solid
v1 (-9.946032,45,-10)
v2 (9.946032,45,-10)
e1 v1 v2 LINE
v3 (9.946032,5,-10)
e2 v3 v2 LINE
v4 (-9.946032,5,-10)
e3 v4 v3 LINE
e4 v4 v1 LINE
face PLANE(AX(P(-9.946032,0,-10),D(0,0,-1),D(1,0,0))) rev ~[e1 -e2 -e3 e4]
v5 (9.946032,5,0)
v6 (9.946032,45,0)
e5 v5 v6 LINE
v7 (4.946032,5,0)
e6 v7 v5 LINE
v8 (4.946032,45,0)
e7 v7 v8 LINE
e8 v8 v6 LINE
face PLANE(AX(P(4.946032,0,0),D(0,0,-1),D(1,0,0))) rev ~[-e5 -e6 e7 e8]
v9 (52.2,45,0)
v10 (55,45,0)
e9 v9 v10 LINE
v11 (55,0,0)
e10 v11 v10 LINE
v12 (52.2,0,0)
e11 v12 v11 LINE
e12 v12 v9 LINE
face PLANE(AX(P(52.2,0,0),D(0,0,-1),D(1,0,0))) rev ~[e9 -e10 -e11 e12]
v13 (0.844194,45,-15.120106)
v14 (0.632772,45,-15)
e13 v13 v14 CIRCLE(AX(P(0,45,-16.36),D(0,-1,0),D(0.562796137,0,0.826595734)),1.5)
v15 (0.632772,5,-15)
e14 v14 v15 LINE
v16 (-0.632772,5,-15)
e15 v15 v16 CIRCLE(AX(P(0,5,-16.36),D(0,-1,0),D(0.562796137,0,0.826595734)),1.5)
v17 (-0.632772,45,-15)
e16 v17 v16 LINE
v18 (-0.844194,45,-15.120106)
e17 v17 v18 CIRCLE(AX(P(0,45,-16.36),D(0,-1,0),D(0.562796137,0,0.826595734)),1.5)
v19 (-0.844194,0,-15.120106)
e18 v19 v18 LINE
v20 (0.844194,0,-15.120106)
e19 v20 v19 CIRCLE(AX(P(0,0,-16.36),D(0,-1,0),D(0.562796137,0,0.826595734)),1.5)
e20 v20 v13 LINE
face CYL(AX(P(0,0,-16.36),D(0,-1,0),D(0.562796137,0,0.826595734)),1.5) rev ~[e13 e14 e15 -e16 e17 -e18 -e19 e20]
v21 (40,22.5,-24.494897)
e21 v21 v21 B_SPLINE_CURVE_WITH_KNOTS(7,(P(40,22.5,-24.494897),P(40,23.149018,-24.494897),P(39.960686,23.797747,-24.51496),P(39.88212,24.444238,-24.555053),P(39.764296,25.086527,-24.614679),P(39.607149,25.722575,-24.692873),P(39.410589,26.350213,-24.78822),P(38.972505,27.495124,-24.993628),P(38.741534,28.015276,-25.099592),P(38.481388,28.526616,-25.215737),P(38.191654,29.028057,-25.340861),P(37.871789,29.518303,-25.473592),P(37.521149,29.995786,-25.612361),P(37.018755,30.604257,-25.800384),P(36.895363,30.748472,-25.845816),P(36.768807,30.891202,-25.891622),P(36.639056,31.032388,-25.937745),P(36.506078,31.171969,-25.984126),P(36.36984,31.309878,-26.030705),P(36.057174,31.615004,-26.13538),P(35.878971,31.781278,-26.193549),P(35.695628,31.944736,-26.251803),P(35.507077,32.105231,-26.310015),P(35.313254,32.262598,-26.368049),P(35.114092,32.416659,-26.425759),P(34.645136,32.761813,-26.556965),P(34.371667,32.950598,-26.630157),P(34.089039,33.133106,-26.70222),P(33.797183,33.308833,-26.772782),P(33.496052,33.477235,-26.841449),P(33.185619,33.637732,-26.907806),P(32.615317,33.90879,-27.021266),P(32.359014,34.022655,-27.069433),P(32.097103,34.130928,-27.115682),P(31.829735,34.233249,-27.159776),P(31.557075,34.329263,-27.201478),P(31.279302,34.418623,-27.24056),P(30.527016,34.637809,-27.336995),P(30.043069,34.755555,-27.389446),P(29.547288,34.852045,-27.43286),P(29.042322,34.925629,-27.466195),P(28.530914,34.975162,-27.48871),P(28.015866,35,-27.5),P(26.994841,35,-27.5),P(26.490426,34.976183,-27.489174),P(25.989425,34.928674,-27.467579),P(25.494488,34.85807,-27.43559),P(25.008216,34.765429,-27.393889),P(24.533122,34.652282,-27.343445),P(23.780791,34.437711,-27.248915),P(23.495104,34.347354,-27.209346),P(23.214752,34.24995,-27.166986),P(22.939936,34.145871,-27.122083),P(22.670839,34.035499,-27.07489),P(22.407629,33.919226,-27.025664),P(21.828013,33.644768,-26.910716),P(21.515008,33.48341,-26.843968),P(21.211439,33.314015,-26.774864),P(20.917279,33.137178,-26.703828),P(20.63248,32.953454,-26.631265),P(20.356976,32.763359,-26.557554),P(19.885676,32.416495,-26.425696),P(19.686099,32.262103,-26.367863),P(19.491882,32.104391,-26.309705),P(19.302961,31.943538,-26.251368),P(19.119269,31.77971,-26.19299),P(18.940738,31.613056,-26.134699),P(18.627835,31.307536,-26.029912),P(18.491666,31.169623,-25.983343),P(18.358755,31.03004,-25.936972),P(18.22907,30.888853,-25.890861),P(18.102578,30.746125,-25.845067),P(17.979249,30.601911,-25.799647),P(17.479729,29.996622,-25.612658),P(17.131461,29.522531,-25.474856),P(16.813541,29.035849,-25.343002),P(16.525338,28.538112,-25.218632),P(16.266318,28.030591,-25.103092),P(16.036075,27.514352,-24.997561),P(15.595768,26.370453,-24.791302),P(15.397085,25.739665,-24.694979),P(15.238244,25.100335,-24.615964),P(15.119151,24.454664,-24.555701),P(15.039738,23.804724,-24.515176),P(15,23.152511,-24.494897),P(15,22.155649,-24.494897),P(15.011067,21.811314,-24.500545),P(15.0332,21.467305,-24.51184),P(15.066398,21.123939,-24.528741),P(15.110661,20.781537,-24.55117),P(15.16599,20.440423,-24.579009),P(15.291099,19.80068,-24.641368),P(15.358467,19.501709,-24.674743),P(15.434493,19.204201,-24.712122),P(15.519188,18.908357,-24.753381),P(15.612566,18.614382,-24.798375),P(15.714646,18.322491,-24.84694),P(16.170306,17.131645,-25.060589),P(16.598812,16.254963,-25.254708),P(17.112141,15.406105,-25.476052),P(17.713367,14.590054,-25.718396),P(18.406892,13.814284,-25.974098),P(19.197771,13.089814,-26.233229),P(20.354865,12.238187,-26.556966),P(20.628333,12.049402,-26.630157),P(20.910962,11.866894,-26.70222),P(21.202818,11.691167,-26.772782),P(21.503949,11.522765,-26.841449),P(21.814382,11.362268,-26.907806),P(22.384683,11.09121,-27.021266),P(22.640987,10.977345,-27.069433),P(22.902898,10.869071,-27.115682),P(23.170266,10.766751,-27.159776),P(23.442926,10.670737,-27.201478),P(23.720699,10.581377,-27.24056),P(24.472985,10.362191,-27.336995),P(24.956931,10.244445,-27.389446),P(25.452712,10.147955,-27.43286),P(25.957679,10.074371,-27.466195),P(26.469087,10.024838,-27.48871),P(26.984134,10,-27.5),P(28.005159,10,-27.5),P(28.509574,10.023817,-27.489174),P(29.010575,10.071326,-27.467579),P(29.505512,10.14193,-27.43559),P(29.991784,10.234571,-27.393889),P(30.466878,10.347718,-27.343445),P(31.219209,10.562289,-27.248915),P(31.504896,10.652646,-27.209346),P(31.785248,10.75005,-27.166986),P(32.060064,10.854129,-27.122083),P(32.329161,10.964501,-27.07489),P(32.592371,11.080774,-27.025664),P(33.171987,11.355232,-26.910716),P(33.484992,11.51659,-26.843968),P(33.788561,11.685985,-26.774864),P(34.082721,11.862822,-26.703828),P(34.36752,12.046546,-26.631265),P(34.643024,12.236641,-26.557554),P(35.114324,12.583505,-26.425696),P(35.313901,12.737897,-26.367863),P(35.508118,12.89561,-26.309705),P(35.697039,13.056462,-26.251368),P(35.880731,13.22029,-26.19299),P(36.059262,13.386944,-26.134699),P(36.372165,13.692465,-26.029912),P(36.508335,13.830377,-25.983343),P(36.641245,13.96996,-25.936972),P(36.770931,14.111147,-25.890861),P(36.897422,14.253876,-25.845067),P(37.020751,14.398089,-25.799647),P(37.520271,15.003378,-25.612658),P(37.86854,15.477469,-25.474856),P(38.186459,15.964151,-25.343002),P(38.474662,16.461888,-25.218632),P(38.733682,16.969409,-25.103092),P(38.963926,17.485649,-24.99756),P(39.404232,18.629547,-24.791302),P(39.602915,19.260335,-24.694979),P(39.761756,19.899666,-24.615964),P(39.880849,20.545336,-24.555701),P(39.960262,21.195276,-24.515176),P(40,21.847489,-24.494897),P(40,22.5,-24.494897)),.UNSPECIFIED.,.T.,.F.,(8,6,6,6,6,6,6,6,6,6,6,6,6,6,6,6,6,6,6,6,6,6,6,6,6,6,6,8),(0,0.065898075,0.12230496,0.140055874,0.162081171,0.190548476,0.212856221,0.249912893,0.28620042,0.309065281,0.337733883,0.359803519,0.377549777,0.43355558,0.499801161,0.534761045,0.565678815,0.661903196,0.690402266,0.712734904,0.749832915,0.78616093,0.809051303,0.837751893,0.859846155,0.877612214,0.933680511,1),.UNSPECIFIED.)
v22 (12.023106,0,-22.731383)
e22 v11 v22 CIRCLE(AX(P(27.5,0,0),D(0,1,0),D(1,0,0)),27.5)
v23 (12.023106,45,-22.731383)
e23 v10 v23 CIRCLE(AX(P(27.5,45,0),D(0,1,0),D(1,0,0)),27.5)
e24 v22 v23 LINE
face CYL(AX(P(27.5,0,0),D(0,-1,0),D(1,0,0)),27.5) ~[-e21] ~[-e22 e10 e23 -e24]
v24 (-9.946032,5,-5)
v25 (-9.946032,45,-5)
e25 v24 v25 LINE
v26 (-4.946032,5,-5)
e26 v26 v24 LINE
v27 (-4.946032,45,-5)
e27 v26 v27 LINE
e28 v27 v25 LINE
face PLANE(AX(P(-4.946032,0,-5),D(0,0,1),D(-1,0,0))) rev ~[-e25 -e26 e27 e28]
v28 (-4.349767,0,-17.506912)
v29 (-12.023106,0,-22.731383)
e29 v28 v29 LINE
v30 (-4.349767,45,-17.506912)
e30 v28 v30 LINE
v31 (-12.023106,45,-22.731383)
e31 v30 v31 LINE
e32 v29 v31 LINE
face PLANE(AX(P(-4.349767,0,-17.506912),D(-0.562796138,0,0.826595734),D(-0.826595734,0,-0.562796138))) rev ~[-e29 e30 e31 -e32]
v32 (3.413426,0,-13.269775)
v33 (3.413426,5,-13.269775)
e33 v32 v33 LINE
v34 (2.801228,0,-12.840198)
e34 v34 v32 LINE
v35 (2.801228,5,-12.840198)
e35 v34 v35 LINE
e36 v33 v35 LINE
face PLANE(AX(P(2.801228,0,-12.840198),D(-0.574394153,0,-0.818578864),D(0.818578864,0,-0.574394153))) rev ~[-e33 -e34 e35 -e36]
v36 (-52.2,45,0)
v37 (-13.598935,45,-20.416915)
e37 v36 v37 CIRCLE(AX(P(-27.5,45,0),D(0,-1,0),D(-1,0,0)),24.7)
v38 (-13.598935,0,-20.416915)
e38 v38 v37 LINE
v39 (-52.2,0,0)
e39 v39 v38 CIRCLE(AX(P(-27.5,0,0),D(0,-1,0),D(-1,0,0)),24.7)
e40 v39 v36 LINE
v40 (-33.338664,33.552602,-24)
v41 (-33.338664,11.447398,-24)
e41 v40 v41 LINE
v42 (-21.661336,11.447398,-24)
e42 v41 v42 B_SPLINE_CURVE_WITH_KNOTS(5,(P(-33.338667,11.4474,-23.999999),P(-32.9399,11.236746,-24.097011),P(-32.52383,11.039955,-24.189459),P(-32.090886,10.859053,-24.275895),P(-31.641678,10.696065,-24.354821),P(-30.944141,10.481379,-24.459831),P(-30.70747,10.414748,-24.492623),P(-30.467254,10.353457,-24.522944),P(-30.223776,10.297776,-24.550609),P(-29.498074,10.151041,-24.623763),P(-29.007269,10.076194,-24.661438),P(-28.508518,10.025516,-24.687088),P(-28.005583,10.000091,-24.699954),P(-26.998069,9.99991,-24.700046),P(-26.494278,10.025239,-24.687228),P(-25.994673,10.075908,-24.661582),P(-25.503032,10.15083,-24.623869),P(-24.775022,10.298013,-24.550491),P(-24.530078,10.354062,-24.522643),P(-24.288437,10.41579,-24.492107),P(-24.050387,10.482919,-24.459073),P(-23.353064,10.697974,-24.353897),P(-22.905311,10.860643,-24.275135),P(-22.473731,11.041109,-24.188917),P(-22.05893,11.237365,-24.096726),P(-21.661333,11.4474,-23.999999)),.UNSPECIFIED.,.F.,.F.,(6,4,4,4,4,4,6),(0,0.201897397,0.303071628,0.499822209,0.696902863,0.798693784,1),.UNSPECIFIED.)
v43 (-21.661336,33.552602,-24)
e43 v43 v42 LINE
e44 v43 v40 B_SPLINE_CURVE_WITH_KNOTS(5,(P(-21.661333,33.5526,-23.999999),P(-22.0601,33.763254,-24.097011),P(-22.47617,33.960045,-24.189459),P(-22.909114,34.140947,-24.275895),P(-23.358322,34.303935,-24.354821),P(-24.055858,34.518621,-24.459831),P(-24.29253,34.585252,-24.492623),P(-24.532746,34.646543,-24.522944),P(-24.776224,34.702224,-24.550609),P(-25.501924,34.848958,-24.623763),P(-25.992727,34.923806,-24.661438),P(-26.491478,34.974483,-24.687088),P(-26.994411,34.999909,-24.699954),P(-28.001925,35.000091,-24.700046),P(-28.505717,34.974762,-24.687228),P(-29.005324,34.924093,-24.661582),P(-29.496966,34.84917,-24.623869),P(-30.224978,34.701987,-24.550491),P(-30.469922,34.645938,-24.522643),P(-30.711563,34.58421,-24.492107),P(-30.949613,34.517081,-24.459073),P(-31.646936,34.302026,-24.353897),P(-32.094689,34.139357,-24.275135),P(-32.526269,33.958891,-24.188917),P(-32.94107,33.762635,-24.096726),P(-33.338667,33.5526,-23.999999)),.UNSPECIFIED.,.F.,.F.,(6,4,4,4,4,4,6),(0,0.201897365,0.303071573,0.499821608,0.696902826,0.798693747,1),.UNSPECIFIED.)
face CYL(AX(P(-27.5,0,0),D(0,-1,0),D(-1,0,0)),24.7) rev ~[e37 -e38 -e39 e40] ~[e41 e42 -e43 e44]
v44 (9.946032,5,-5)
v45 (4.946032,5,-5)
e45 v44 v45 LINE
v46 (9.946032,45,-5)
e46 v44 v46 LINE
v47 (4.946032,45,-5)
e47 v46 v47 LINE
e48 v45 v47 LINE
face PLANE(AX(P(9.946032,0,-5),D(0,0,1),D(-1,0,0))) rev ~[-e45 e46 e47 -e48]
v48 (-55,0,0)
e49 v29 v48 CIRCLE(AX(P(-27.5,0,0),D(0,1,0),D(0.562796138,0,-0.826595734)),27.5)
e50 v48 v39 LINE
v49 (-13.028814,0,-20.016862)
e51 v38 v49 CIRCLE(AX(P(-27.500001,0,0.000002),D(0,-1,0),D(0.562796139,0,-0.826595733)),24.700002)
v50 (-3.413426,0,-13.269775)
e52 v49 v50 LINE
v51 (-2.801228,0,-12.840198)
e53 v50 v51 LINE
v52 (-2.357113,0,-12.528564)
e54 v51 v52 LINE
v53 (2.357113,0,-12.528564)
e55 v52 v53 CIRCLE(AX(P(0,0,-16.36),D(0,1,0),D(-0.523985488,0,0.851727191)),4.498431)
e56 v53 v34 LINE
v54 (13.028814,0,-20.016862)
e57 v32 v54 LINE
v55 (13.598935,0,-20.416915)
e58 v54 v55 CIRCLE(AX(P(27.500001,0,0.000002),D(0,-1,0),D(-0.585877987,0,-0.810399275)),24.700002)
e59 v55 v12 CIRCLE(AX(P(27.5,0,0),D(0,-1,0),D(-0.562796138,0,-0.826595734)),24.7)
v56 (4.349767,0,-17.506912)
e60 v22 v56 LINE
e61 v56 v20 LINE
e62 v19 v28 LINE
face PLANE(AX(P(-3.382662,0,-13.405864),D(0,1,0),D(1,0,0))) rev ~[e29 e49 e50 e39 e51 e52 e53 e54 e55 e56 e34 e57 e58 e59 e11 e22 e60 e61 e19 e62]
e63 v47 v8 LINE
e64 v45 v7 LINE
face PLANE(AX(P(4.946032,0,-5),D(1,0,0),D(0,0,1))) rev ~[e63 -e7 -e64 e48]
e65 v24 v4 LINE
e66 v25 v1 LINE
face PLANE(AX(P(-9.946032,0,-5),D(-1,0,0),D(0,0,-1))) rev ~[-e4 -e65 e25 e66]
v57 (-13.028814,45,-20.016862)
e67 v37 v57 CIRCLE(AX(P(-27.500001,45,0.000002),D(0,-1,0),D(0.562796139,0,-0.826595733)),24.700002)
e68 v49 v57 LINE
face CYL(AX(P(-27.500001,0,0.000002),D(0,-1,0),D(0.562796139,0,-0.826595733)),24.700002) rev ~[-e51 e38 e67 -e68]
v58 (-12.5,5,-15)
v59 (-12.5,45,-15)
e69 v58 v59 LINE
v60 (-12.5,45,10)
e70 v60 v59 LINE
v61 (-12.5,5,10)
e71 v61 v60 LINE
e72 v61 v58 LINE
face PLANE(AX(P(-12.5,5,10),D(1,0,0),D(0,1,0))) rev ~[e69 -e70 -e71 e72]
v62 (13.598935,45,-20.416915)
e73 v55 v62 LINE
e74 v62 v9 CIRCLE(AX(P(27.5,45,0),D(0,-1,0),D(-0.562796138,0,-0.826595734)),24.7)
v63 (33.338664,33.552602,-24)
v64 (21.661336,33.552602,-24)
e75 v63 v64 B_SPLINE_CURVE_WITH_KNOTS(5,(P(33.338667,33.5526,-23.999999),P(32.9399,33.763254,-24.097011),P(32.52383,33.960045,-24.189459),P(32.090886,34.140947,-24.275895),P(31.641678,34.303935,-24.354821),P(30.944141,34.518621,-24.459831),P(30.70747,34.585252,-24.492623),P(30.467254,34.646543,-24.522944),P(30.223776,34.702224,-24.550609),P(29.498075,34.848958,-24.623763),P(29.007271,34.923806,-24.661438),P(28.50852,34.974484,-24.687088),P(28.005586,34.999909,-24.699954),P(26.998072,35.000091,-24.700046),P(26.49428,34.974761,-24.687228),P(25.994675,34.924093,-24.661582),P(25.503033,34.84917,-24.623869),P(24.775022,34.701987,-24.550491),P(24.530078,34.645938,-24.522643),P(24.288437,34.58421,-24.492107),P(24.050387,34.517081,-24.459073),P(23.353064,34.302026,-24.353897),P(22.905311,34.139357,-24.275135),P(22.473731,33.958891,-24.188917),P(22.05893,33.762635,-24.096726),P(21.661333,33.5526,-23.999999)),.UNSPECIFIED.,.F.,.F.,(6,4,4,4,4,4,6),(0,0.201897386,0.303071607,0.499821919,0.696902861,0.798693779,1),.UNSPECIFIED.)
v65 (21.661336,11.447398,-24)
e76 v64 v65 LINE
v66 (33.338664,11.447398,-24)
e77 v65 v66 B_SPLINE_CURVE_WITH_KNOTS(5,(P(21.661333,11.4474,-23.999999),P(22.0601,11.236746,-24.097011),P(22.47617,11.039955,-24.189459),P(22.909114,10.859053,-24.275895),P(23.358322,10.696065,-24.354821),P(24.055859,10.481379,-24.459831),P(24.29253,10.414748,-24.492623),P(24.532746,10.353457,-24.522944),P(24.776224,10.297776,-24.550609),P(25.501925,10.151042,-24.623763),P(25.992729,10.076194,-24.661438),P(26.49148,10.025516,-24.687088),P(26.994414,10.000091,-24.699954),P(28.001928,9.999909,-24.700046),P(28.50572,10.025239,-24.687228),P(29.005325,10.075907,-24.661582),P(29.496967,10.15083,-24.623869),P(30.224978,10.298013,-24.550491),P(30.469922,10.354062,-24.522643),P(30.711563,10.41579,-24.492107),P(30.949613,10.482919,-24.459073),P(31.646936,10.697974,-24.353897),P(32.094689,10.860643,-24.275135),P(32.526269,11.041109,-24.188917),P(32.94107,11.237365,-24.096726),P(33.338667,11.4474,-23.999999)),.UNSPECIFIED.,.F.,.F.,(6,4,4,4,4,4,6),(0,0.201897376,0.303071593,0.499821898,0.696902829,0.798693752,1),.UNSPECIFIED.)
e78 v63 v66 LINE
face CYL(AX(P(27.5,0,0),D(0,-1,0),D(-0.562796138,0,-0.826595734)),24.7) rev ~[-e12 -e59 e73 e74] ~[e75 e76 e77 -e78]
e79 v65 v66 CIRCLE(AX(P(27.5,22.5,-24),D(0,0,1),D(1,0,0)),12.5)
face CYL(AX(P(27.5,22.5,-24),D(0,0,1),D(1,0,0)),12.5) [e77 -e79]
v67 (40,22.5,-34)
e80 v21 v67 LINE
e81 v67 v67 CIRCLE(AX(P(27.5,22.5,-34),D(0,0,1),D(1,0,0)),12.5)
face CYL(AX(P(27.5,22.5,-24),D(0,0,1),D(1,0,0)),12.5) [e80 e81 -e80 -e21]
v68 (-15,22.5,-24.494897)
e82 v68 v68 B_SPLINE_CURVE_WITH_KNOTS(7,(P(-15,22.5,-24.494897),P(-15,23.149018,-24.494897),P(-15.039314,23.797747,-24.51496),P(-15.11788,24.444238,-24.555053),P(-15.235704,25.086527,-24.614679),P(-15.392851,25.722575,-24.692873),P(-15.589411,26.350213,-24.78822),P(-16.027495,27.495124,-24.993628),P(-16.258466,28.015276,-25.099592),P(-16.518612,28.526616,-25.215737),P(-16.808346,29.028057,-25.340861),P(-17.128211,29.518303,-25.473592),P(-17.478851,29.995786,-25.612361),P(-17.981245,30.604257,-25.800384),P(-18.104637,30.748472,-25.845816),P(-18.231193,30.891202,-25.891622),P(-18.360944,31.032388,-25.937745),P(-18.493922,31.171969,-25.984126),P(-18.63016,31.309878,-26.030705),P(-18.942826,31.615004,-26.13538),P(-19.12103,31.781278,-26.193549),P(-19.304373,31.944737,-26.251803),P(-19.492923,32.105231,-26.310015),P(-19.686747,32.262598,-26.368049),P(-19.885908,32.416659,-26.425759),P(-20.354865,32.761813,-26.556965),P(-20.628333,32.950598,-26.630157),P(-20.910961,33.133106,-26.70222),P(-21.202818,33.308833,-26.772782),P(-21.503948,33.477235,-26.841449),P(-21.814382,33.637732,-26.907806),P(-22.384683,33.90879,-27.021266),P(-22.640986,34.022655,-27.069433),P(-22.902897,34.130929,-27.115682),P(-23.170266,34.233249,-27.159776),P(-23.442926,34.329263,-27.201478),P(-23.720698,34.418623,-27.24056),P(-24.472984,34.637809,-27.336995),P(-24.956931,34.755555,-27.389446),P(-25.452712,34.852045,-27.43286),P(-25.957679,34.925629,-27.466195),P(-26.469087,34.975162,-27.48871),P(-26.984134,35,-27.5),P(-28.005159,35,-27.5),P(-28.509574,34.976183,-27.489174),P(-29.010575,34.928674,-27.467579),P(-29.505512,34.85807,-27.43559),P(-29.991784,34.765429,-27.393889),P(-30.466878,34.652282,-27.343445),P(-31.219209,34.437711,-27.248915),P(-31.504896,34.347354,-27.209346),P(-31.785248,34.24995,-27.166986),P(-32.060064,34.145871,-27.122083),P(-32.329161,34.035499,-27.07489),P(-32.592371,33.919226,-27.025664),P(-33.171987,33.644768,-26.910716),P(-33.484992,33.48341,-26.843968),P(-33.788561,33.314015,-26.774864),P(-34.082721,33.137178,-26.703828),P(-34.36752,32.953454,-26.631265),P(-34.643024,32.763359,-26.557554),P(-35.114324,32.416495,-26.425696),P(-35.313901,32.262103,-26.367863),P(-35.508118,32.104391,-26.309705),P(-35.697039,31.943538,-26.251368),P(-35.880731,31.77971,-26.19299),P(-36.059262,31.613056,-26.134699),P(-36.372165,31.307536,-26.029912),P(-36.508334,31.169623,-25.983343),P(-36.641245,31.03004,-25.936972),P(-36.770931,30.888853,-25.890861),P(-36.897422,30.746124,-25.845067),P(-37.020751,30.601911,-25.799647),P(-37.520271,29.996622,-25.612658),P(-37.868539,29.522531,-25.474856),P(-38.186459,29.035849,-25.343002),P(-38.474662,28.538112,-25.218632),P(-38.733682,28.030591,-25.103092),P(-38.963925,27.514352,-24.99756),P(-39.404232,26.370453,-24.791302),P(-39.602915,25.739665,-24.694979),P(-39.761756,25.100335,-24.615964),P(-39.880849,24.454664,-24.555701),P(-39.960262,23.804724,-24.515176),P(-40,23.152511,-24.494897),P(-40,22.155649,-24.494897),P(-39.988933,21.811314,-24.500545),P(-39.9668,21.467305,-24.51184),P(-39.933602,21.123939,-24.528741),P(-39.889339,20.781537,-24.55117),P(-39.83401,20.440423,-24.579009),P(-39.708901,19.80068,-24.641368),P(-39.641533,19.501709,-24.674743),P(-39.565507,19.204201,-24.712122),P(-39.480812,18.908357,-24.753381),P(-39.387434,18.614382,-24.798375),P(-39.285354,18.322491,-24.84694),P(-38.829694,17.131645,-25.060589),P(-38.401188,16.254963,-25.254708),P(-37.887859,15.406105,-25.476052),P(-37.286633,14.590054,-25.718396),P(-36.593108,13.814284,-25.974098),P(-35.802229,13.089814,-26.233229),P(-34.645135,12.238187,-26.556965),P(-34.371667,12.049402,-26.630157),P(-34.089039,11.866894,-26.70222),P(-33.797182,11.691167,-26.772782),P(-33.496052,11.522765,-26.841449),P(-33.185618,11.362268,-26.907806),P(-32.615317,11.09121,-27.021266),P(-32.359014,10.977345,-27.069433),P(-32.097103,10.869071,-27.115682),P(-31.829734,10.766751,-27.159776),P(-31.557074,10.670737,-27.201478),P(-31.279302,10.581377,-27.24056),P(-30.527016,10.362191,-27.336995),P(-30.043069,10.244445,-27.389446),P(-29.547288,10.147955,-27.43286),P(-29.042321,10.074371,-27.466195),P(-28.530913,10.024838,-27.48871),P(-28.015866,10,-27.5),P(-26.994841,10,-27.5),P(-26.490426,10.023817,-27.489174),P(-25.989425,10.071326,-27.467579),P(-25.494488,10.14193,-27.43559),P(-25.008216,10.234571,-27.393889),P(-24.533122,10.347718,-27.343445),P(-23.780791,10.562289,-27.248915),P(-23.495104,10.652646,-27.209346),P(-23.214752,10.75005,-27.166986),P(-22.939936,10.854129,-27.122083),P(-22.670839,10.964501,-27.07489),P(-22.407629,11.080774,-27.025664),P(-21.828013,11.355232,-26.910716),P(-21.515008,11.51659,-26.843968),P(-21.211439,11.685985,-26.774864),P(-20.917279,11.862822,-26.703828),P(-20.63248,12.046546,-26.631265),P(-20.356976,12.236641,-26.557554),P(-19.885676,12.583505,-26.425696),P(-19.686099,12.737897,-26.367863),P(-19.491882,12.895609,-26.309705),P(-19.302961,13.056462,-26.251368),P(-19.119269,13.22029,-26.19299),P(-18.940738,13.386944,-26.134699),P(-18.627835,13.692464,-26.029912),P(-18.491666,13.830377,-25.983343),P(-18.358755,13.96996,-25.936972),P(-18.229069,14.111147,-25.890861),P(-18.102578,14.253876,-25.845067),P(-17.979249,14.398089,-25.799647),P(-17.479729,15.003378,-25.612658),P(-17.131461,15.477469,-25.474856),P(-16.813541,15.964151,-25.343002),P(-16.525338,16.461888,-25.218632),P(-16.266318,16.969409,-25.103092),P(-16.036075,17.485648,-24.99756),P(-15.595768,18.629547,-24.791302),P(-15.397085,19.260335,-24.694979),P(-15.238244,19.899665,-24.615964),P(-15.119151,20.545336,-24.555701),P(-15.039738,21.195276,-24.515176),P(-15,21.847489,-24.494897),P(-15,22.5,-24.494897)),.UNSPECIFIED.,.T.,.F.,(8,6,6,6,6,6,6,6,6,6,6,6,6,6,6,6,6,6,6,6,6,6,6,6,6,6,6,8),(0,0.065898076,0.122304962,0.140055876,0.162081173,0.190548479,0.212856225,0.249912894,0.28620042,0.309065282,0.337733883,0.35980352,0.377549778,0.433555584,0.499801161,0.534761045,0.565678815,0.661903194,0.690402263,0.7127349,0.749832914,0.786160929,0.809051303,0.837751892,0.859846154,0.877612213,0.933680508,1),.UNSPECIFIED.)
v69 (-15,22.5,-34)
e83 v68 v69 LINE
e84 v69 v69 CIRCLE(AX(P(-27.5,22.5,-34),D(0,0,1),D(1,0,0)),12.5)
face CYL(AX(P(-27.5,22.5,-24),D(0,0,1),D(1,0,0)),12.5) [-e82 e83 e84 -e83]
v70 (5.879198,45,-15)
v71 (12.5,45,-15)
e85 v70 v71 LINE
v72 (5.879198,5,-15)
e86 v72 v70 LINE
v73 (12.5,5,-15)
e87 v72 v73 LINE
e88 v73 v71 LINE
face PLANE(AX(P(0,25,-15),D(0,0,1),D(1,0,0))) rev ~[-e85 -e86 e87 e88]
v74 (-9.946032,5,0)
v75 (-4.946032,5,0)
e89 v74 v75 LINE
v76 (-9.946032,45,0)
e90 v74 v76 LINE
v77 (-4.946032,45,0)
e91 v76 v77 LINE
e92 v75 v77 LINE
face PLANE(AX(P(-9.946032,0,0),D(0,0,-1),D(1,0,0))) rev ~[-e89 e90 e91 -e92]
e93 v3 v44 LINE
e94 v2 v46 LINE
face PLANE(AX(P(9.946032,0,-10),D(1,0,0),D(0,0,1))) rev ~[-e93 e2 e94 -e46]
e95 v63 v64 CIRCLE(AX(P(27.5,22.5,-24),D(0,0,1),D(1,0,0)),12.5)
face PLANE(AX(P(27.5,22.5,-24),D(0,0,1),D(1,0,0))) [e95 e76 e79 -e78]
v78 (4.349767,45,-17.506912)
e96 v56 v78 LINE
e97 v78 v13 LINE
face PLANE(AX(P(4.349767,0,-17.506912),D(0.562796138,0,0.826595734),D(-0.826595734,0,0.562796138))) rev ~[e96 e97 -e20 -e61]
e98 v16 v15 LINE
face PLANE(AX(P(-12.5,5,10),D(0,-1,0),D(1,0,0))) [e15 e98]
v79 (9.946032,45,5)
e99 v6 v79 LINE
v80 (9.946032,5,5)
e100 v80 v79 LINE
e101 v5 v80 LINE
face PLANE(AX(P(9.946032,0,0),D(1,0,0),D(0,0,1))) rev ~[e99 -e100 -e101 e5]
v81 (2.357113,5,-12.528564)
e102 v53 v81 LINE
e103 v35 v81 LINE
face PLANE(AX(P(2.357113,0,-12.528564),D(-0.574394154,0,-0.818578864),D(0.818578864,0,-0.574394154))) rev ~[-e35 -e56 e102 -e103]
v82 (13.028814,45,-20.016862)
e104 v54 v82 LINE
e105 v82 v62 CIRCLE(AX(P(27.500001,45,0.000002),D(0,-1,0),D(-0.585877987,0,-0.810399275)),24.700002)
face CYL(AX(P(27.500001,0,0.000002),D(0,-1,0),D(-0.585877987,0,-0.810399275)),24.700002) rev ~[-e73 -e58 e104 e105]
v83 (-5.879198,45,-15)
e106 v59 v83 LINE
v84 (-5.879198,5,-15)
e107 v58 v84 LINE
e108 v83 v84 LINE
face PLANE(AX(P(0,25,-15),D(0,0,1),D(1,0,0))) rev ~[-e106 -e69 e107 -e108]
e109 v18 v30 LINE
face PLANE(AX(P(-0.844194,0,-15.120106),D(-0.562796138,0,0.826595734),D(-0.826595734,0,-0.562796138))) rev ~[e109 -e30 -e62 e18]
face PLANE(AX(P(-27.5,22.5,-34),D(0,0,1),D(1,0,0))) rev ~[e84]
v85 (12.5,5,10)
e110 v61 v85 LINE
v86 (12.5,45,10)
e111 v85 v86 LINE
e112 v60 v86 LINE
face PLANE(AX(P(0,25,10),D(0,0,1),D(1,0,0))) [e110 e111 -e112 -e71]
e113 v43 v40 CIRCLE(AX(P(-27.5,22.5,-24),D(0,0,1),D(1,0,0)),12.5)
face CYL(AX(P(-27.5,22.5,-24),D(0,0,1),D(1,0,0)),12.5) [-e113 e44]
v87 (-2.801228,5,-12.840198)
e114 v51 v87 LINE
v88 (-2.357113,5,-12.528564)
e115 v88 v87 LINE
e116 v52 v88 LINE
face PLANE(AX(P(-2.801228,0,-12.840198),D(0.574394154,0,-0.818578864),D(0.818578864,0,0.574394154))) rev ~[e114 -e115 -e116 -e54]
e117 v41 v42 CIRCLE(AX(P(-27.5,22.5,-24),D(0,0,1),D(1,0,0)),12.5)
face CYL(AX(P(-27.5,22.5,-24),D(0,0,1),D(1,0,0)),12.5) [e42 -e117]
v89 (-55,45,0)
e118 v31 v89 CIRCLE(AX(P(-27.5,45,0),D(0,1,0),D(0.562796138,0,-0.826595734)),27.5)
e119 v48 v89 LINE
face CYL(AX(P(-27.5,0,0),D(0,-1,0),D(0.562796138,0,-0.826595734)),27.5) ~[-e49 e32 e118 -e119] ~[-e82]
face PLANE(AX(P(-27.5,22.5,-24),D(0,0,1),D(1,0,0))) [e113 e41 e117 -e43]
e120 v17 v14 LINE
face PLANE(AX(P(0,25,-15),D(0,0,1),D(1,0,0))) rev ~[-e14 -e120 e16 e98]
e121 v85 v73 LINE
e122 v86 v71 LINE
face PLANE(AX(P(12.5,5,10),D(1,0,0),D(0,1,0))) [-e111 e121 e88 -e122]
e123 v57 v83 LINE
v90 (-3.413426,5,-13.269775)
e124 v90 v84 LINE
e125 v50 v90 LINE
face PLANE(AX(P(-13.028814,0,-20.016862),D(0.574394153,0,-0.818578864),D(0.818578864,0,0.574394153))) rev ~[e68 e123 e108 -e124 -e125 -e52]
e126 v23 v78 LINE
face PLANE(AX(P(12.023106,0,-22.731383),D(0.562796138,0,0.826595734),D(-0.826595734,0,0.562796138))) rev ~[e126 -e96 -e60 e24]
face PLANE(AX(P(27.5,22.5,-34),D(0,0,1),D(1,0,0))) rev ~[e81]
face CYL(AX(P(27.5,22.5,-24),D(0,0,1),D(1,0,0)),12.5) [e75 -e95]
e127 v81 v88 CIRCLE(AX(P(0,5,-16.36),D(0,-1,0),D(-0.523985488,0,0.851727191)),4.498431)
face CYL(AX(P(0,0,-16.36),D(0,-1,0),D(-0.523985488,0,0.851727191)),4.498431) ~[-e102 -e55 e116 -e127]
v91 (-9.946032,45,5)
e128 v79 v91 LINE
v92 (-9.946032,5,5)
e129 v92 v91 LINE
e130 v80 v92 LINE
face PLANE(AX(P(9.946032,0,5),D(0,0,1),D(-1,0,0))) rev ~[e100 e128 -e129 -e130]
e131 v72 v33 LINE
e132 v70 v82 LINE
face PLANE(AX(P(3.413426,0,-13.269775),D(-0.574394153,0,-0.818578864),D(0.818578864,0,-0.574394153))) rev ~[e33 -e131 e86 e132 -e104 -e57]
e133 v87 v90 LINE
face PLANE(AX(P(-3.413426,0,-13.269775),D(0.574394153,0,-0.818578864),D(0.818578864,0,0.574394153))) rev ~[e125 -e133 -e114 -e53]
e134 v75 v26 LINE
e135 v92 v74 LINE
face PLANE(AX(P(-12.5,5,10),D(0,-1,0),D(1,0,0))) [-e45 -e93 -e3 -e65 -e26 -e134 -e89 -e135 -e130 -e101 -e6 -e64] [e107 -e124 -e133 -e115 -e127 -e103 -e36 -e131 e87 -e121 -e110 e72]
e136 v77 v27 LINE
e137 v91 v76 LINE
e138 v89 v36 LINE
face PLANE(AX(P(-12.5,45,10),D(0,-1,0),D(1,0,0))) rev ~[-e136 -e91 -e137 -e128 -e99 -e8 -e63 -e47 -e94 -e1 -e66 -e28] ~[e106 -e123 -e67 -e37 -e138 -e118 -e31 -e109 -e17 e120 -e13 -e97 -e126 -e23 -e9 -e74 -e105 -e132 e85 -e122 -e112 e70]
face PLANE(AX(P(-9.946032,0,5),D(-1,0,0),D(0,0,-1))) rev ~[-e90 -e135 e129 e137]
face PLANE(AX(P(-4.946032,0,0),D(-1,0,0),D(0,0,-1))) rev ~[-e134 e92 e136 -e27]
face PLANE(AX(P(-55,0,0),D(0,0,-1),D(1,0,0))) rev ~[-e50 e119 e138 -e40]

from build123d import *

# Parameters (mm, degrees)
BOSS_EXTRUDE2_DEPTH     = 45
BOSS_EXTRUDE4_START     = -24
SKETCH2_R               = 12.5
BOSS_EXTRUDE4_DEPTH     = 10
BOSS_EXTRUDE6_START     = 10
SKETCH3_W               = 25
SKETCH3_H               = 40
BOSS_EXTRUDE6_DEPTH     = 25
CUT_EXTRUDE1_DEPTH      = 46.0000001
CUT_EXTRUDE1_DEPTH_BACK = 20


with BuildPart() as part:
    # Sketch1 → Boss-Extrude2 (new body)
    with BuildSketch(Plane(origin=(0, 0, 0), x_dir=(1, 0, 0), z_dir=(0, 1, 0))):
        with BuildLine():
            ThreePointArc((-2.801227604, 12.840197836), (-3.388966753, 13.401826964), (-3.866028841, 14.06006427))
            ThreePointArc((-3.866028841, 14.06006427), (-3.636455498, 13.666793472), (-3.413425605, 13.269775202))
            Line((-3.413425605, 13.269775202), (-2.801227604, 12.840197836))
        make_face()
        with BuildLine():
            Line((-4.349767454, 17.506911707), (-12.023106204, 22.731382677))
            ThreePointArc((-12.023106204, 22.731382677), (-7.469700948, 18.842428715), (-3.866028841, 14.06006427))
            ThreePointArc((-3.866028841, 14.06006427), (-4.454774574, 15.734806542), (-4.349767454, 17.506911707))
        make_face()
        with BuildLine():
            Line((-0.844194207, 15.120106399), (-4.349767454, 17.506911707))
            ThreePointArc((-4.349767454, 17.506911707), (-4.454774574, 15.734806542), (-3.866028841, 14.06006427))
            ThreePointArc((-3.866028841, 14.06006427), (-3.388966753, 13.401826964), (-2.801227604, 12.840197836))
            Line((-2.801227604, 12.840197836), (-2.357112674, 12.528563819))
            ThreePointArc((-2.357112674, 12.528563819), (0, 11.861568788), (2.357112674, 12.528563819))
            Line((2.357112674, 12.528563819), (2.801227604, 12.840197836))
            ThreePointArc((2.801227604, 12.840197836), (3.388966727, 13.401826933), (3.8660288, 14.0600642))
            ThreePointArc((3.8660288, 14.0600642), (4.337450172, 15.167351949), (4.498431212, 16.36))
            ThreePointArc((4.498431212, 16.36), (4.461110458, 16.93825327), (4.349767454, 17.506911707))
            Line((4.349767454, 17.506911707), (0.844194207, 15.120106399))
            ThreePointArc((0.844194207, 15.120106399), (0, 14.86), (-0.844194207, 15.120106399))
        make_face()
        with BuildLine():
            Line((12.023106204, 22.731382677), (4.349767454, 17.506911707))
            ThreePointArc((4.349767454, 17.506911707), (4.461110458, 16.93825327), (4.498431212, 16.36))
            ThreePointArc((4.498431212, 16.36), (4.337450172, 15.167351949), (3.8660288, 14.0600642))
            ThreePointArc((3.8660288, 14.0600642), (7.46970092, 18.842428685), (12.023106204, 22.731382677))
        make_face()
        with BuildLine():
            Line((2.801227604, 12.840197836), (3.413425605, 13.269775202))
            ThreePointArc((3.413425605, 13.269775202), (3.636455478, 13.666793437), (3.8660288, 14.0600642))
            ThreePointArc((3.8660288, 14.0600642), (3.388966727, 13.401826933), (2.801227604, 12.840197836))
        make_face()
        with BuildLine():
            Line((52.2, 0), (55, 0))
            ThreePointArc((55, 0), (40.357593488, 24.309098908), (12.023106204, 22.731382677))
            ThreePointArc((12.023106204, 22.731382677), (7.46970092, 18.842428685), (3.8660288, 14.0600642))
            ThreePointArc((3.8660288, 14.0600642), (3.636455478, 13.666793437), (3.413425605, 13.269775202))
            Line((3.413425605, 13.269775202), (13.028813696, 20.016862066))
            ThreePointArc((13.028813696, 20.016862066), (13.312464415, 20.218897943), (13.59893539, 20.416914623))
            ThreePointArc((13.59893539, 20.416914623), (39.048456696, 21.833990655), (52.2, 0))
        make_face()
        with BuildLine():
            ThreePointArc((-12.023106204, 22.731382677), (-40.357593488, 24.309098908), (-55, 0))
            Line((-55, 0), (-52.2, 0))
            ThreePointArc((-52.2, 0), (-39.048456696, 21.833990655), (-13.59893539, 20.416914623))
            ThreePointArc((-13.59893539, 20.416914623), (-13.312464415, 20.218897943), (-13.028813696, 20.016862066))
            Line((-13.028813696, 20.016862066), (-3.413425605, 13.269775202))
            ThreePointArc((-3.413425605, 13.269775202), (-3.636455498, 13.666793472), (-3.866028841, 14.06006427))
            ThreePointArc((-3.866028841, 14.06006427), (-7.469700948, 18.842428715), (-12.023106204, 22.731382677))
        make_face()
    extrude(amount=BOSS_EXTRUDE2_DEPTH)

    # Sketch2 → Boss-Extrude4 (add)
    with BuildSketch(Plane.XY.offset(BOSS_EXTRUDE4_START)):
        with Locations((-27.5, 22.5)):
            Circle(SKETCH2_R)
        with Locations((27.5, 22.5)):
            Circle(SKETCH2_R)
    extrude(amount=-BOSS_EXTRUDE4_DEPTH)

    # Sketch3 → Boss-Extrude6 (add)
    with BuildSketch(Plane.XY.offset(BOSS_EXTRUDE6_START)):
        with Locations((0, 25)):
            Rectangle(SKETCH3_W, SKETCH3_H)
    extrude(amount=-BOSS_EXTRUDE6_DEPTH)

    # Sketch5 → Cut-Extrude1 (cut, two sides)
    with BuildSketch(Plane(origin=(0, 0, 0), x_dir=(1, 0, 0), z_dir=(0, 1, 0))) as cut_extrude1_sk:
        Polygon((-9.94603189, 10), (9.94603189, 10), (9.94603189, 5), (4.94603189, 5), (4.94603189, 0), (9.94603189, 0), (9.94603189, -5), (-9.94603189, -5), (-9.94603189, 0), (-4.94603189, 0), (-4.94603189, 5), (-9.94603189, 5), align=None)
    extrude(amount=CUT_EXTRUDE1_DEPTH, mode=Mode.SUBTRACT)
    extrude(cut_extrude1_sk.sketch, amount=-CUT_EXTRUDE1_DEPTH_BACK, mode=Mode.SUBTRACT)


solid = part.part
